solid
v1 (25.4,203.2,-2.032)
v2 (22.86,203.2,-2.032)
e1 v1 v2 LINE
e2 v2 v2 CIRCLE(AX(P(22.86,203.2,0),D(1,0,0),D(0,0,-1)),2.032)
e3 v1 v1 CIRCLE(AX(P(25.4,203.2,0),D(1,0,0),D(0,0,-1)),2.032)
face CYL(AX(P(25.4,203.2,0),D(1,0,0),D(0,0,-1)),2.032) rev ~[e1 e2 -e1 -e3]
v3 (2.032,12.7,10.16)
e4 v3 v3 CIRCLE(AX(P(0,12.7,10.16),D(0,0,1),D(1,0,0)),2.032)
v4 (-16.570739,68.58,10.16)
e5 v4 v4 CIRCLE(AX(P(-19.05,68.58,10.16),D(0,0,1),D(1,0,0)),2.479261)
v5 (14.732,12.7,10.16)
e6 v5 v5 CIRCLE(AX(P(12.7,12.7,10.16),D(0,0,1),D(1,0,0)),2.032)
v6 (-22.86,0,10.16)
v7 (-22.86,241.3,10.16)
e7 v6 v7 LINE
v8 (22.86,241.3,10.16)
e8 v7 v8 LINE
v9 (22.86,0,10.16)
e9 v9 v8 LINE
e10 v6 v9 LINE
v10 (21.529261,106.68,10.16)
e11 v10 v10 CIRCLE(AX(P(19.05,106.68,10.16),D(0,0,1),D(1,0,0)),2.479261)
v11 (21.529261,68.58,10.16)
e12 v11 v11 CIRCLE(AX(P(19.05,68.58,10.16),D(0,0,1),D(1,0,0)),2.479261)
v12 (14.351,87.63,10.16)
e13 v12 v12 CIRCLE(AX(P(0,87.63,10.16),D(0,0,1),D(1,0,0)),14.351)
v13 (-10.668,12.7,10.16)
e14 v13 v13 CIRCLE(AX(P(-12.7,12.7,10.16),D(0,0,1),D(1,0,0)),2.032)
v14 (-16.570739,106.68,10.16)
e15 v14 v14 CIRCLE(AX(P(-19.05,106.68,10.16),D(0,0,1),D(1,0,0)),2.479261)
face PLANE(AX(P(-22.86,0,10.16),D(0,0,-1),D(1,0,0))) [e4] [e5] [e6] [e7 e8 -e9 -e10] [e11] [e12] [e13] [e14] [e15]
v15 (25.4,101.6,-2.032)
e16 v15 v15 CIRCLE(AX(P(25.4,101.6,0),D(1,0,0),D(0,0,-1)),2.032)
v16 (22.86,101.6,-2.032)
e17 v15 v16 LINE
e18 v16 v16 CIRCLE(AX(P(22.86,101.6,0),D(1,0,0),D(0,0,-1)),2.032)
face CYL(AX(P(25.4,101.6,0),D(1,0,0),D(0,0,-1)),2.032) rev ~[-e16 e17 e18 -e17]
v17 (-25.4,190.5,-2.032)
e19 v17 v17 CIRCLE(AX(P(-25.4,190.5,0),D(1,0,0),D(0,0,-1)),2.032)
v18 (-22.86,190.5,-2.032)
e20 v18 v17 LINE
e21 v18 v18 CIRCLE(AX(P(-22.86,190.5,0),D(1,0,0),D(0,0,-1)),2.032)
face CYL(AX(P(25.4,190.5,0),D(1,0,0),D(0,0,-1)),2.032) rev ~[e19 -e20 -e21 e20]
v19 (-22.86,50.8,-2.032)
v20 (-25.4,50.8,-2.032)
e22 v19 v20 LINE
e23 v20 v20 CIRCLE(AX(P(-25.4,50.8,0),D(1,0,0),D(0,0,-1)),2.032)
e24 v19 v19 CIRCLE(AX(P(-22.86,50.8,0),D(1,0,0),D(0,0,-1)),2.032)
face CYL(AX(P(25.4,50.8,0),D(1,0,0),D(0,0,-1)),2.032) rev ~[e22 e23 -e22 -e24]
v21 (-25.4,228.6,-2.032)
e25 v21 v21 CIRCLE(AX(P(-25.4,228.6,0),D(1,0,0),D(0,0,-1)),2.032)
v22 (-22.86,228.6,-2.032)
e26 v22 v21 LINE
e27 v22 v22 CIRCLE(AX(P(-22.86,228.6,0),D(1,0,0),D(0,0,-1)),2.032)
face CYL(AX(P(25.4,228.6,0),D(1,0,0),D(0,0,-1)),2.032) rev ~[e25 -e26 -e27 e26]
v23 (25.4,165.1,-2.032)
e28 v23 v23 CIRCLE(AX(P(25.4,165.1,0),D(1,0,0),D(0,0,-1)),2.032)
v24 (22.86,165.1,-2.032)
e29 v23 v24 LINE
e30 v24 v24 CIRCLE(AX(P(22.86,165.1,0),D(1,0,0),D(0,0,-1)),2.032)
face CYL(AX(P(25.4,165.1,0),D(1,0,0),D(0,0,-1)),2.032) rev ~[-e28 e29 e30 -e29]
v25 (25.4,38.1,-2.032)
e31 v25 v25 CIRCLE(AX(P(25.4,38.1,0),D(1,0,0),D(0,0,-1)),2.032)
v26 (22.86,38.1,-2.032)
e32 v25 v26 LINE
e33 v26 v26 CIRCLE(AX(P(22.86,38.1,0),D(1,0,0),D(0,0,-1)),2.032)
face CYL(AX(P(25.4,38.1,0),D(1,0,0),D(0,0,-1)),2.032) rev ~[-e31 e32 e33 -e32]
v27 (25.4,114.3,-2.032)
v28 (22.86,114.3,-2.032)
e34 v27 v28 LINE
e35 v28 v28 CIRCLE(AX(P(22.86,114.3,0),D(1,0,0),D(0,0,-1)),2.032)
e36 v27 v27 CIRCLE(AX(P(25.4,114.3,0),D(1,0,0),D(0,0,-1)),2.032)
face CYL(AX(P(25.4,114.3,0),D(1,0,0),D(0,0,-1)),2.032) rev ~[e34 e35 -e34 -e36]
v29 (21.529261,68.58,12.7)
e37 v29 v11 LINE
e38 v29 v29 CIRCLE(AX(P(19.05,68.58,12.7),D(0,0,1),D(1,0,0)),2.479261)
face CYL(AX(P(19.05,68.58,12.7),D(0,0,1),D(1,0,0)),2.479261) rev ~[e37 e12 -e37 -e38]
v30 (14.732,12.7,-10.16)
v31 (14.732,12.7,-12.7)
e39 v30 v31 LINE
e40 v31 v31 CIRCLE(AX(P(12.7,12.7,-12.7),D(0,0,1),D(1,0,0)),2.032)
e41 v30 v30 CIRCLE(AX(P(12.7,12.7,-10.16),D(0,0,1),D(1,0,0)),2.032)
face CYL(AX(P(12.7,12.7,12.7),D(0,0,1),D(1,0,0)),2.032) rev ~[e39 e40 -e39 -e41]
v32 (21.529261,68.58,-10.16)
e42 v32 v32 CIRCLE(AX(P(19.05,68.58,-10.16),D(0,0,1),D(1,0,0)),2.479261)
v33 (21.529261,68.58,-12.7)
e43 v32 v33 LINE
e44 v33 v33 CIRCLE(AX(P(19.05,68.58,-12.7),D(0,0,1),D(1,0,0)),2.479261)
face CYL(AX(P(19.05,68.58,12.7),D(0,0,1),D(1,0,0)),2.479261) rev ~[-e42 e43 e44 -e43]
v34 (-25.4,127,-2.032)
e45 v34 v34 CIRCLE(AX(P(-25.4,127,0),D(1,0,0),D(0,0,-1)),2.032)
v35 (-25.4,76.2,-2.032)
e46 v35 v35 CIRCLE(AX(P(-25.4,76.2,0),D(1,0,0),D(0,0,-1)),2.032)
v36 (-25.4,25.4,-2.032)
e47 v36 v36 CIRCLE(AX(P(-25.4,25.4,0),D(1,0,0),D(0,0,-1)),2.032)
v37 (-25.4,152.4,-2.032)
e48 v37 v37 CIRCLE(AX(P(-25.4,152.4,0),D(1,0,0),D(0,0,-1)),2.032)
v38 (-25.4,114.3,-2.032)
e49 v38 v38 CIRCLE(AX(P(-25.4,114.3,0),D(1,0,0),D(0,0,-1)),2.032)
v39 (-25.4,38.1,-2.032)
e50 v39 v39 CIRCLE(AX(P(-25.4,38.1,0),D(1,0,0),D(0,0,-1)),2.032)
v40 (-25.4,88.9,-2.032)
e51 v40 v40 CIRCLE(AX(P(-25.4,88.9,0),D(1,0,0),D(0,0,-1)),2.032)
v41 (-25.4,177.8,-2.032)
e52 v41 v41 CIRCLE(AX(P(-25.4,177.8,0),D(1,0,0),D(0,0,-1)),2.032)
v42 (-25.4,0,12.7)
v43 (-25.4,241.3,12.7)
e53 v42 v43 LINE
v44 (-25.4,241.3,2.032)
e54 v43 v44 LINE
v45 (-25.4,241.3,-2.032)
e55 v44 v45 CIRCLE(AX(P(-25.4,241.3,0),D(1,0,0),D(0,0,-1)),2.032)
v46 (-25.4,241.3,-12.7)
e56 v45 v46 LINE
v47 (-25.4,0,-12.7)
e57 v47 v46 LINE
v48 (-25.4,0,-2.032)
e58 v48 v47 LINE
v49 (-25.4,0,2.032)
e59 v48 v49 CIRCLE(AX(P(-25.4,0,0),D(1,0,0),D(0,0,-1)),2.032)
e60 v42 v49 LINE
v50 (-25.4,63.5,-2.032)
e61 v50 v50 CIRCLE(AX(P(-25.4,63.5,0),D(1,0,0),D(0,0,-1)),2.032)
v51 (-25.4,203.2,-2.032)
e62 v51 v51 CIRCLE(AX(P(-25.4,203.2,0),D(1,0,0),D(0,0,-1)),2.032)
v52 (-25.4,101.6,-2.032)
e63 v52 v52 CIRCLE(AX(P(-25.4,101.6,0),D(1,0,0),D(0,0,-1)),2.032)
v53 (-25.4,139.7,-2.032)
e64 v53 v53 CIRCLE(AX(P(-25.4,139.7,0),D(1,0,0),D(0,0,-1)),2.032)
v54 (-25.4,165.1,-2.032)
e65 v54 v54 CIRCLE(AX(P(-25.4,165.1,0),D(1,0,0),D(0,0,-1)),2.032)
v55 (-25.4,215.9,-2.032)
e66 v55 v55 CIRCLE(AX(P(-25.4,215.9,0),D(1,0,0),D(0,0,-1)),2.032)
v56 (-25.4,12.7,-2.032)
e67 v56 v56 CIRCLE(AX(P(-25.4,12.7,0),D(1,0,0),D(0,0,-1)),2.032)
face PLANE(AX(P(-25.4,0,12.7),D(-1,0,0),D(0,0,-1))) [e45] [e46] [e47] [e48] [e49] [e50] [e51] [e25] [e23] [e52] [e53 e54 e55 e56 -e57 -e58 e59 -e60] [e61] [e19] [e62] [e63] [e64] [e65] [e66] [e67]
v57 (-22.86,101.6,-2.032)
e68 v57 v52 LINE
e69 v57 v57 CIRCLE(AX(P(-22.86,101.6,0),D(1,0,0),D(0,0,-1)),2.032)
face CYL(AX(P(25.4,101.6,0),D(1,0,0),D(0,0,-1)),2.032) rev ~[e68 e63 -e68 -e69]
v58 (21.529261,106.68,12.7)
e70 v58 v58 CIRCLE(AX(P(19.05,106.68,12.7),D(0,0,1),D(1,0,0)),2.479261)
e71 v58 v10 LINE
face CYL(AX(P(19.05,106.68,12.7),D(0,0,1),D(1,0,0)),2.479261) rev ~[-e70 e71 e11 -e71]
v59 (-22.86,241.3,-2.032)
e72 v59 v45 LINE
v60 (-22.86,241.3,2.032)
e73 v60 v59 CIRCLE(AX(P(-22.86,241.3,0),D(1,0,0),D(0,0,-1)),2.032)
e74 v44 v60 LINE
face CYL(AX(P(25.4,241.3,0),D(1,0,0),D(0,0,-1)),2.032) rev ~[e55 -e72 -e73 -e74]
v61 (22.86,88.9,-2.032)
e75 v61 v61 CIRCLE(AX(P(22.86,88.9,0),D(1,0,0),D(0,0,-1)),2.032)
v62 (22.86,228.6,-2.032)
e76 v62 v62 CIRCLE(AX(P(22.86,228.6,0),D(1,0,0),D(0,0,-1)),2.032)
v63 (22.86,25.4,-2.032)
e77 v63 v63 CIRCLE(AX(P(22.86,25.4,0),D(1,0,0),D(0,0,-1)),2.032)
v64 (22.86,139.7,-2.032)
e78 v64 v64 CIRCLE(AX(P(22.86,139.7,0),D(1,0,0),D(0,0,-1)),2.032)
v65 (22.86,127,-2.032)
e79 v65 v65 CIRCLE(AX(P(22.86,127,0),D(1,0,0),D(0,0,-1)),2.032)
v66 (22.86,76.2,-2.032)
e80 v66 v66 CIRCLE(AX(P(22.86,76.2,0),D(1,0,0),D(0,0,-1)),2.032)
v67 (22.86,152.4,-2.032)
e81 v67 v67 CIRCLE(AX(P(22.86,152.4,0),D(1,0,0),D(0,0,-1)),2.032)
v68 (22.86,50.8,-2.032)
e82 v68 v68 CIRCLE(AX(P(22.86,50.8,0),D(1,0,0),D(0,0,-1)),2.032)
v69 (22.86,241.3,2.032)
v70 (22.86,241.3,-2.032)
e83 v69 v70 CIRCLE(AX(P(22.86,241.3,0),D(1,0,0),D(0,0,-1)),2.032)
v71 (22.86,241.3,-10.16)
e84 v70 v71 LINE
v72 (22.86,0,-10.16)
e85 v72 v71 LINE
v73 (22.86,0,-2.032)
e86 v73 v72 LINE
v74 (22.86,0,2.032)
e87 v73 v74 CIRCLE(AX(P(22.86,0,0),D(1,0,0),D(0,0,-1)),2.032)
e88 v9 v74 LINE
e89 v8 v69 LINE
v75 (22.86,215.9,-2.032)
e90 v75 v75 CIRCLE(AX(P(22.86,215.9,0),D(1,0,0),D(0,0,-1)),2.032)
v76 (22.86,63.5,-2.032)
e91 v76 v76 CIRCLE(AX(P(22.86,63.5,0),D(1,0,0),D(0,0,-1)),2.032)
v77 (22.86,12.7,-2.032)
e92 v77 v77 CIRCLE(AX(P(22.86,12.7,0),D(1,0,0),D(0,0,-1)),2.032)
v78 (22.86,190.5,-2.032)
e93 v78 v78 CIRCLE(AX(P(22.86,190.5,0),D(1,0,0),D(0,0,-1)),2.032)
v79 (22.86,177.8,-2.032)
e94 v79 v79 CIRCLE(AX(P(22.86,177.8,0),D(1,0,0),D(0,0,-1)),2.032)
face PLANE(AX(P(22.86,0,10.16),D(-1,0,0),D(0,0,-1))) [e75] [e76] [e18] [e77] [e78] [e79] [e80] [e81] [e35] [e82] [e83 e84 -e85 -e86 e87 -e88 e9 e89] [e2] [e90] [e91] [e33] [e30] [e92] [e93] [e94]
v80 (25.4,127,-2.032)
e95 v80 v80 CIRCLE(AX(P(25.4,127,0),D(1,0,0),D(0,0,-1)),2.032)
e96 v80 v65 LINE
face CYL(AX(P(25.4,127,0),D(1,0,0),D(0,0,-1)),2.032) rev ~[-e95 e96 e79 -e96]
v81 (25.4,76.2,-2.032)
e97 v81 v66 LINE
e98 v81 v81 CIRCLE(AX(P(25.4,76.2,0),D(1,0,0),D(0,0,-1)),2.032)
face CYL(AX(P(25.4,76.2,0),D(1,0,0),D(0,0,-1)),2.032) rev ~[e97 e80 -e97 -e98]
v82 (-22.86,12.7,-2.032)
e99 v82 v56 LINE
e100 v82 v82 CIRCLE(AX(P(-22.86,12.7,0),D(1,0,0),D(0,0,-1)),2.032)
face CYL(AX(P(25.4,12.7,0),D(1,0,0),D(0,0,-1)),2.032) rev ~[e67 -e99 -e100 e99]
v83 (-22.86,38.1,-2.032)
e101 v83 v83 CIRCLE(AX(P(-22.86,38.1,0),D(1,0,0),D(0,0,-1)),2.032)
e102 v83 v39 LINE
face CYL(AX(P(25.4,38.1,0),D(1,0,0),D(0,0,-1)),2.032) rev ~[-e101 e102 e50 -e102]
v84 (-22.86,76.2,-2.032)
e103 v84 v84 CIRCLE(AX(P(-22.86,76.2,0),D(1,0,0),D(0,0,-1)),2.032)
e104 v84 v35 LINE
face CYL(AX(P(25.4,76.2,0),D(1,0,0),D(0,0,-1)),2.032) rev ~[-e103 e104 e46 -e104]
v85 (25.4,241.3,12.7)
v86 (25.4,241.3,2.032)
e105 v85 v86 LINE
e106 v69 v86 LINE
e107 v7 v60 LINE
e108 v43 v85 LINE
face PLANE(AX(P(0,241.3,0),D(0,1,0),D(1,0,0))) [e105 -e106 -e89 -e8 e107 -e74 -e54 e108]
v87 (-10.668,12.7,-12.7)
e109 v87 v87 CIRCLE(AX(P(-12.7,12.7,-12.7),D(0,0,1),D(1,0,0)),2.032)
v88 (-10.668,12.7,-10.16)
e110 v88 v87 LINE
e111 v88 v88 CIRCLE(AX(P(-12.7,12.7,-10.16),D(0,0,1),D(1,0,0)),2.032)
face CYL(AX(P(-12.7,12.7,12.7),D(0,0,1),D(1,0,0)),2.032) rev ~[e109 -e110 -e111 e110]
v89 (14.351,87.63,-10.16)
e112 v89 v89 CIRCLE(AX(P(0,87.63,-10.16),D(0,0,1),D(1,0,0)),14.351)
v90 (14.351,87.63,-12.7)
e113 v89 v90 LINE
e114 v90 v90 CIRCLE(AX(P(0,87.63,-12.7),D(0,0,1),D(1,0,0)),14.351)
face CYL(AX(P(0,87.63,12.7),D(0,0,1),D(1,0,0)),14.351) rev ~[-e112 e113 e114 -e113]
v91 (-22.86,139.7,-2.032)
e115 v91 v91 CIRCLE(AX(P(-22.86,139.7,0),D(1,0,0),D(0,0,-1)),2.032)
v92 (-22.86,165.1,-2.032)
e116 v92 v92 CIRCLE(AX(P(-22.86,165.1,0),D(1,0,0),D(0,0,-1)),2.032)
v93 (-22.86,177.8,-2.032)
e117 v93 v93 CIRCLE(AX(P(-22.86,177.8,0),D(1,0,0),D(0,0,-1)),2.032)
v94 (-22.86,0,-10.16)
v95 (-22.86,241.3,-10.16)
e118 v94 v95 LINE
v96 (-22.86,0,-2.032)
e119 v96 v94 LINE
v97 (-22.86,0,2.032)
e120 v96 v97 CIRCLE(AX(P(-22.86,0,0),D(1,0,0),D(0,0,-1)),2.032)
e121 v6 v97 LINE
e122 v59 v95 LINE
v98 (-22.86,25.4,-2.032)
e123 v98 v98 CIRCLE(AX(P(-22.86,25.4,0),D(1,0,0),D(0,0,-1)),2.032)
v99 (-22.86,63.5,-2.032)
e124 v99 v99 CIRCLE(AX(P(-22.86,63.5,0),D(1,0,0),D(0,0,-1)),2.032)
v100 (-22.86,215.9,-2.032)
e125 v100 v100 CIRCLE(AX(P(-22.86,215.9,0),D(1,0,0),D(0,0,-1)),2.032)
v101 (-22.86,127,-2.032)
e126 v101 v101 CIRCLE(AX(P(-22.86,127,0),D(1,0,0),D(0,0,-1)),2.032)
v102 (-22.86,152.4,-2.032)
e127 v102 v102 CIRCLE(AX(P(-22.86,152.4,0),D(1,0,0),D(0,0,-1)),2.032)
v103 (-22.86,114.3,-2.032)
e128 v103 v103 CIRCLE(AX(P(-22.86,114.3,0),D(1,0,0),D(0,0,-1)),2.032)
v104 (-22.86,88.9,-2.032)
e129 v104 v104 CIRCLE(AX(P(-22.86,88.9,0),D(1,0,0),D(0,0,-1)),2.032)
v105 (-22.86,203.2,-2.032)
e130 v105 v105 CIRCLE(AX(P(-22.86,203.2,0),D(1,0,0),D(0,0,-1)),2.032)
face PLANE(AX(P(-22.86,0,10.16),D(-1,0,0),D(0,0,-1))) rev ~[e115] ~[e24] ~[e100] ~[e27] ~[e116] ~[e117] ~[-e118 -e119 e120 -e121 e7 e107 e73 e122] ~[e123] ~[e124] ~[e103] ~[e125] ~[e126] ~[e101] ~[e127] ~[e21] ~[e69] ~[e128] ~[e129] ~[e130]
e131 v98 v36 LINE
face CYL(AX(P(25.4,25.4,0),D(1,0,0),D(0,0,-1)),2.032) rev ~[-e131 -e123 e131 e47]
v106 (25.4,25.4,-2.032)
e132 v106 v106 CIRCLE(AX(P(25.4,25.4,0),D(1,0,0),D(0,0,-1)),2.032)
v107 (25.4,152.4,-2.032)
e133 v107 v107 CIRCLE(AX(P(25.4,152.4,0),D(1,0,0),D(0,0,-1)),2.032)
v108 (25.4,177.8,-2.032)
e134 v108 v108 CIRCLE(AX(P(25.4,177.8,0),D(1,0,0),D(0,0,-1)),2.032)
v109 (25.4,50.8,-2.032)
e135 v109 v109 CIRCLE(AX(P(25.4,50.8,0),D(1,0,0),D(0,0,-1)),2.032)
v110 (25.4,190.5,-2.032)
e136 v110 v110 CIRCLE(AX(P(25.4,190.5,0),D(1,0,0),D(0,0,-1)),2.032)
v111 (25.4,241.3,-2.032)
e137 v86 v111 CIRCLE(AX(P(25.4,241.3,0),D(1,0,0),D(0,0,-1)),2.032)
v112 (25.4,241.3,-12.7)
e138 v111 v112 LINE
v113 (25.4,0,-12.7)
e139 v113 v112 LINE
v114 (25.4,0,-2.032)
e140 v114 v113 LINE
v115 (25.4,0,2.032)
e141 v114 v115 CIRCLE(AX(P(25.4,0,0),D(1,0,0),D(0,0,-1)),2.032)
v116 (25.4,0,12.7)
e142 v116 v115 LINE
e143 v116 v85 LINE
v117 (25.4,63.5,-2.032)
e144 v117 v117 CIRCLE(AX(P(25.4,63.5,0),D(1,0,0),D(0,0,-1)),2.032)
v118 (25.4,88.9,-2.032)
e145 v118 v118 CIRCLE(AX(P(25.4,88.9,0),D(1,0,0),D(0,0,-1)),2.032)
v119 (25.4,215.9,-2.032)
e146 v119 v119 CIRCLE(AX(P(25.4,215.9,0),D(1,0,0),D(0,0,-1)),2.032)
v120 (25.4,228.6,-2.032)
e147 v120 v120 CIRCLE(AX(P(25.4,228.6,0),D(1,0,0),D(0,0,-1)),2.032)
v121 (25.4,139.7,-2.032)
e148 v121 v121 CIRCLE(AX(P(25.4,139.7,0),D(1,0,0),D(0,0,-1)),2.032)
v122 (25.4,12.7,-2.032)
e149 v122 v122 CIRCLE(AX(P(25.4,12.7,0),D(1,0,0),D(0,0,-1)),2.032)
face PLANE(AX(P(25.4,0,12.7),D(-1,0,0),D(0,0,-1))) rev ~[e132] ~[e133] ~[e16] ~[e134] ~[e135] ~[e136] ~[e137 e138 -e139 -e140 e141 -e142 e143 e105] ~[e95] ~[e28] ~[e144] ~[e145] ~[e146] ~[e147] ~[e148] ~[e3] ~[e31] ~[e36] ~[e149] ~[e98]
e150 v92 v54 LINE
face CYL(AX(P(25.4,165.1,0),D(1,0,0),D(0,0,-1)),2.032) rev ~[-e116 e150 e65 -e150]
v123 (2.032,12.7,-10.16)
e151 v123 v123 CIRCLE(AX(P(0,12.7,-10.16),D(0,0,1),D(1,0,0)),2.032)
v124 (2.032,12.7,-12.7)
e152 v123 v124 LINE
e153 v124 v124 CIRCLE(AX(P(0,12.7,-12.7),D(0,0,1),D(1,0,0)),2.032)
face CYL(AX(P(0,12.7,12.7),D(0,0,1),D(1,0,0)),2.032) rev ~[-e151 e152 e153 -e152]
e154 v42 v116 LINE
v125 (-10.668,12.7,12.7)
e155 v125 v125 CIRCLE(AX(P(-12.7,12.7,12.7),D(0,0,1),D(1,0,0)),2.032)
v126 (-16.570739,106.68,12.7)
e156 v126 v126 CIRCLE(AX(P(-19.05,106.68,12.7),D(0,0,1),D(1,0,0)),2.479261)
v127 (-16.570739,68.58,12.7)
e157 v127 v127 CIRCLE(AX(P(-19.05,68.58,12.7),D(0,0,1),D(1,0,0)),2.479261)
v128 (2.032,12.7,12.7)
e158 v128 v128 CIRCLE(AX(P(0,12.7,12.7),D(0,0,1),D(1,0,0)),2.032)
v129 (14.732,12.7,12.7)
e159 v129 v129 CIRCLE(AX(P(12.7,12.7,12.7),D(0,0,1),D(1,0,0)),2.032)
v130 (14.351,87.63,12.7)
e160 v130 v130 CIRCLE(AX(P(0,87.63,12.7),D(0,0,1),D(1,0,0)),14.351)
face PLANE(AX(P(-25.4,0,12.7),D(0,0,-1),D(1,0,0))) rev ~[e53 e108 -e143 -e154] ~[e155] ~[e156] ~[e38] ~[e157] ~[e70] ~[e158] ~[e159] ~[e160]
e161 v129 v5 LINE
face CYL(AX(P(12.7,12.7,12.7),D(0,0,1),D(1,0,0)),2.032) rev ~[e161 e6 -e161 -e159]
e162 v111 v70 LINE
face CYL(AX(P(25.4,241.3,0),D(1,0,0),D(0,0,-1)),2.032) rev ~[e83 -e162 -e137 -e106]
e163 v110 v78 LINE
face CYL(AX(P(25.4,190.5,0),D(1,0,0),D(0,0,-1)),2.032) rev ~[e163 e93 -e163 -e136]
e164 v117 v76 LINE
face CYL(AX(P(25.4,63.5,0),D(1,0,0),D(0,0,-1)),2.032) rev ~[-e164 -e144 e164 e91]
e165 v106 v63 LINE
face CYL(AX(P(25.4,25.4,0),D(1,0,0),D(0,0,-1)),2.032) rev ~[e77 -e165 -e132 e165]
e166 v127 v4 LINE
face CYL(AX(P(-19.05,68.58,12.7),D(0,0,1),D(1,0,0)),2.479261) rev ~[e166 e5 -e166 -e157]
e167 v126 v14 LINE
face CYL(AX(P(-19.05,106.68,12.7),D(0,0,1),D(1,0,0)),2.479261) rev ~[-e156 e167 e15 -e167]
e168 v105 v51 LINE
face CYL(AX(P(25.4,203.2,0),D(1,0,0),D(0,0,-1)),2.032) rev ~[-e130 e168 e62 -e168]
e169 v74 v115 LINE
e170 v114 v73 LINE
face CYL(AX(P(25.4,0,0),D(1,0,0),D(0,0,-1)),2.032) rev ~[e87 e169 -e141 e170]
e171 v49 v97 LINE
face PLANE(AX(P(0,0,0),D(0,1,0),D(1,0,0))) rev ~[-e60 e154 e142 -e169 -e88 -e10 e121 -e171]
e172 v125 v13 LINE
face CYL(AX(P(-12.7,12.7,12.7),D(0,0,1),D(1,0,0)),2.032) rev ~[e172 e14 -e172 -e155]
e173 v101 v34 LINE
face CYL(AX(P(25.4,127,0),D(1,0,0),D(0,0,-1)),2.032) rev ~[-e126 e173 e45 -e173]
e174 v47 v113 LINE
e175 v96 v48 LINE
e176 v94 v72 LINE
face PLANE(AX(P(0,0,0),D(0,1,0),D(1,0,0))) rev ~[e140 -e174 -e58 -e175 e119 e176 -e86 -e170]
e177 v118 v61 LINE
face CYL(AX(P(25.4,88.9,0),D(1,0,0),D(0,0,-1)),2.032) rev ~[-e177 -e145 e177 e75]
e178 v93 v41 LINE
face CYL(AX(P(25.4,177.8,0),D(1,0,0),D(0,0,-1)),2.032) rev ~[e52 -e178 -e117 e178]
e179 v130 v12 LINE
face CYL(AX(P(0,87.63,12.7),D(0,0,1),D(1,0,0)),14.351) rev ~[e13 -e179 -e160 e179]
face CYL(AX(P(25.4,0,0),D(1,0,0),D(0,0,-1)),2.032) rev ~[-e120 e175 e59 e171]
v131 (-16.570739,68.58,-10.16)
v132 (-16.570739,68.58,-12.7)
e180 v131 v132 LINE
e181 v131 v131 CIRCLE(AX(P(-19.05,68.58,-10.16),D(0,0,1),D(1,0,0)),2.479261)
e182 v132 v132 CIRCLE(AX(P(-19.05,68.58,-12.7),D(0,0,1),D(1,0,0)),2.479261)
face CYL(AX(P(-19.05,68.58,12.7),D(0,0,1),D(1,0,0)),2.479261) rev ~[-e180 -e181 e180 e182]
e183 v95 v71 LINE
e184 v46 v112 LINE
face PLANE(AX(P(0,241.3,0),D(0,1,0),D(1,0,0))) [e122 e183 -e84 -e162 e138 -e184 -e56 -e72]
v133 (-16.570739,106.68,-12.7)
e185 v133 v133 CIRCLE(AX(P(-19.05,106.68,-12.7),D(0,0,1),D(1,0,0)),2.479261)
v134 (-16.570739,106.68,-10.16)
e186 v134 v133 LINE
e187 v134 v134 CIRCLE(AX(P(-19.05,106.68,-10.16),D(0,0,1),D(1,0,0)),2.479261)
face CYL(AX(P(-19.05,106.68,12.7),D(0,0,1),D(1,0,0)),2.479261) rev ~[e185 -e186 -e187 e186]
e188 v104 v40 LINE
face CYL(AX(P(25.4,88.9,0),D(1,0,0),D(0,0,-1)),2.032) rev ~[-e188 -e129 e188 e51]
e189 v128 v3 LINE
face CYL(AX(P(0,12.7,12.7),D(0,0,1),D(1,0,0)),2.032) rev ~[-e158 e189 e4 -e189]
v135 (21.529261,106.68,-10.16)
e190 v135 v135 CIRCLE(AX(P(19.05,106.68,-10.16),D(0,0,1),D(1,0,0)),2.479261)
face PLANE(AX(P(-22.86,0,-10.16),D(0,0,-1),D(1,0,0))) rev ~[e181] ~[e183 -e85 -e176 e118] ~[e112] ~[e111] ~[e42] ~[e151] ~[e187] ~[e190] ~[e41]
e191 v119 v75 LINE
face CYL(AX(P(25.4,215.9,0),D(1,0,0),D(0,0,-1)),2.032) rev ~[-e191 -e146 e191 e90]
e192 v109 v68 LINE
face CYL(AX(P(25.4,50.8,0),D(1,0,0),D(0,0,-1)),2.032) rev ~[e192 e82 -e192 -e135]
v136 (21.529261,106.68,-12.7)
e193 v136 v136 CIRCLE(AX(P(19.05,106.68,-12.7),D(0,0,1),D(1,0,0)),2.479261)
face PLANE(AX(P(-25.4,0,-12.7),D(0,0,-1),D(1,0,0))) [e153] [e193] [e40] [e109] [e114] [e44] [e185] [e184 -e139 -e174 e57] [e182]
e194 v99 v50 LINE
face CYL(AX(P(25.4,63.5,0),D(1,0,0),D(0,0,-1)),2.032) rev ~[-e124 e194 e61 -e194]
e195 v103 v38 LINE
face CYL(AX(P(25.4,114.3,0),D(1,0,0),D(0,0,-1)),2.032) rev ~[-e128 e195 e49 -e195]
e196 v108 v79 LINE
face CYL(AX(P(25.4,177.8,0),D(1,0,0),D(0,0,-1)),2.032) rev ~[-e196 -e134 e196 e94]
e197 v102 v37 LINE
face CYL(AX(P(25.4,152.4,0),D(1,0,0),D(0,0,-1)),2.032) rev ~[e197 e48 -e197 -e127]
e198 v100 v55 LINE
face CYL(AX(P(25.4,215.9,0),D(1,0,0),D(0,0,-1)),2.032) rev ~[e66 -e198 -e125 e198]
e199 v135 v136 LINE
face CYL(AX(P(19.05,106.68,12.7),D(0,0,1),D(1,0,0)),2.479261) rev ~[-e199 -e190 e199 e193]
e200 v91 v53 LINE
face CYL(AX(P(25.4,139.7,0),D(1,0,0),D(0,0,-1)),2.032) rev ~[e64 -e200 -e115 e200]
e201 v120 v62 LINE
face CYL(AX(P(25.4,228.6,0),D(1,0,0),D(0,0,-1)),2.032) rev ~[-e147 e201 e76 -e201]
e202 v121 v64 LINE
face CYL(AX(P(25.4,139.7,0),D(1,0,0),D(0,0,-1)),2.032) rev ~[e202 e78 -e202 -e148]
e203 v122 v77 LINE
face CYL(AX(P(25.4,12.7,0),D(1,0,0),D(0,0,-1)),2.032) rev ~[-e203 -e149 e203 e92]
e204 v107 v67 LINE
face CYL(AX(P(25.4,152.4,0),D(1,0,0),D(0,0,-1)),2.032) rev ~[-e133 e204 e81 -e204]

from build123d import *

# Parameters (mm, degrees)
SKETCH2_W           = 50.8
SKETCH2_H           = 25.4
SKETCH2_W_2         = 45.72
SKETCH2_H_2         = 20.32
BOSS_EXTRUDE1_DEPTH = 635
SKETCH3_R           = 2.032
CUT_EXTRUDE1_DEPTH  = 638.155342126
SKETCH4_R           = 2.032
CUT_EXTRUDE2_DEPTH  = 637.015188498
SKETCH5_R           = 14.351
SKETCH5_R_2         = 2.479261189
CUT_EXTRUDE3_DEPTH  = 637.015188498
SKETCH6_W           = 50.8
SKETCH6_H           = 25.4
CUT_EXTRUDE4_DEPTH  = 355.6
SKETCH12_W          = 50.8
SKETCH12_H          = 25.4
CUT_EXTRUDE9_DEPTH  = 38.1


with BuildPart() as part:
    # Sketch2 → Boss-Extrude1 (new body)
    with BuildSketch(Plane(origin=(0, 0, 0), x_dir=(1, 0, 0), z_dir=(0, 1, 0))):
        Rectangle(SKETCH2_W, SKETCH2_H)
        Rectangle(SKETCH2_W_2, SKETCH2_H_2, mode=Mode.SUBTRACT)
    extrude(amount=BOSS_EXTRUDE1_DEPTH)

    # Sketch3 → Cut-Extrude1 (cut, through all)
    with BuildSketch(Plane(origin=(25.4, 0, 0), x_dir=(0, 0, -1), z_dir=(1, 0, 0))):
        Circle(SKETCH3_R)
        with Locations((0, 12.7)):
            Circle(SKETCH3_R)
        with Locations((0, 25.4)):
            Circle(SKETCH3_R)
        with Locations((0, 38.1)):
            Circle(SKETCH3_R)
        with Locations((0, 50.8)):
            Circle(SKETCH3_R)
        with Locations((0, 63.5)):
            Circle(SKETCH3_R)
        with Locations((0, 76.2)):
            Circle(SKETCH3_R)
        with Locations((0, 88.9)):
            Circle(SKETCH3_R)
        with Locations((0, 101.6)):
            Circle(SKETCH3_R)
        with Locations((0, 114.3)):
            Circle(SKETCH3_R)
        with Locations((0, 127)):
            Circle(SKETCH3_R)
        with Locations((0, 139.7)):
            Circle(SKETCH3_R)
        with Locations((0, 152.4)):
            Circle(SKETCH3_R)
        with Locations((0, 165.1)):
            Circle(SKETCH3_R)
        with Locations((0, 177.8)):
            Circle(SKETCH3_R)
        with Locations((0, 190.5)):
            Circle(SKETCH3_R)
        with Locations((0, 203.2)):
            Circle(SKETCH3_R)
        with Locations((0, 215.9)):
            Circle(SKETCH3_R)
        with Locations((0, 228.6)):
            Circle(SKETCH3_R)
        with Locations((0, 241.3)):
            Circle(SKETCH3_R)
        with Locations((0, 254)):
            Circle(SKETCH3_R)
        with Locations((0, 266.7)):
            Circle(SKETCH3_R)
        with Locations((0, 279.4)):
            Circle(SKETCH3_R)
        with Locations((0, 292.1)):
            Circle(SKETCH3_R)
        with Locations((0, 304.8)):
            Circle(SKETCH3_R)
        with Locations((0, 317.5)):
            Circle(SKETCH3_R)
        with Locations((0, 330.2)):
            Circle(SKETCH3_R)
        with Locations((0, 342.9)):
            Circle(SKETCH3_R)
        with Locations((0, 355.6)):
            Circle(SKETCH3_R)
        with Locations((0, 368.3)):
            Circle(SKETCH3_R)
        with Locations((0, 381)):
            Circle(SKETCH3_R)
        with Locations((0, 393.7)):
            Circle(SKETCH3_R)
        with Locations((0, 406.4)):
            Circle(SKETCH3_R)
        with Locations((0, 419.1)):
            Circle(SKETCH3_R)
        with Locations((0, 431.8)):
            Circle(SKETCH3_R)
        with Locations((0, 444.5)):
            Circle(SKETCH3_R)
        with Locations((0, 457.2)):
            Circle(SKETCH3_R)
        with Locations((0, 469.9)):
            Circle(SKETCH3_R)
        with Locations((0, 482.6)):
            Circle(SKETCH3_R)
        with Locations((0, 495.3)):
            Circle(SKETCH3_R)
        with Locations((0, 508)):
            Circle(SKETCH3_R)
        with Locations((0, 520.7)):
            Circle(SKETCH3_R)
        with Locations((0, 533.4)):
            Circle(SKETCH3_R)
        with Locations((0, 546.1)):
            Circle(SKETCH3_R)
        with Locations((0, 558.8)):
            Circle(SKETCH3_R)
        with Locations((0, 571.5)):
            Circle(SKETCH3_R)
        with Locations((0, 584.2)):
            Circle(SKETCH3_R)
        with Locations((0, 596.9)):
            Circle(SKETCH3_R)
        with Locations((0, 609.6)):
            Circle(SKETCH3_R)
        with Locations((0, 622.3)):
            Circle(SKETCH3_R)
    extrude(amount=-CUT_EXTRUDE1_DEPTH, mode=Mode.SUBTRACT)

    # Sketch4 → Cut-Extrude2 (cut, through all)
    with BuildSketch(Plane.XY.offset(12.7)):
        with Locations((-12.7, 12.7)):
            Circle(SKETCH4_R)
        with Locations((0, 12.7)):
            Circle(SKETCH4_R)
        with Locations((12.7, 12.7)):
            Circle(SKETCH4_R)
    extrude(amount=-CUT_EXTRUDE2_DEPTH, mode=Mode.SUBTRACT)

    # Sketch5 → Cut-Extrude3 (cut, through all)
    with BuildSketch(Plane.XY.offset(12.7)):
        with Locations((0, 87.63)):
            Circle(SKETCH5_R)
        with Locations((-19.05, 106.68)):
            Circle(SKETCH5_R_2)
        with Locations((19.05, 106.68)):
            Circle(SKETCH5_R_2)
        with Locations((19.05, 68.58)):
            Circle(SKETCH5_R_2)
        with Locations((-19.05, 68.58)):
            Circle(SKETCH5_R_2)
    extrude(amount=-CUT_EXTRUDE3_DEPTH, mode=Mode.SUBTRACT)

    # Sketch6 → Cut-Extrude4 (cut)
    with BuildSketch(Plane(origin=(0, 635, 0), x_dir=(1, 0, 0), z_dir=(0, 1, 0))):
        Rectangle(SKETCH6_W, SKETCH6_H)
    extrude(amount=-CUT_EXTRUDE4_DEPTH, mode=Mode.SUBTRACT)

    # Sketch12 → Cut-Extrude9 (cut)
    with BuildSketch(Plane(origin=(0, 279.4, 0), x_dir=(1, 0, 0), z_dir=(0, 1, 0))):
        Rectangle(SKETCH12_W, SKETCH12_H)
    extrude(amount=-CUT_EXTRUDE9_DEPTH, mode=Mode.SUBTRACT)


solid = part.part
